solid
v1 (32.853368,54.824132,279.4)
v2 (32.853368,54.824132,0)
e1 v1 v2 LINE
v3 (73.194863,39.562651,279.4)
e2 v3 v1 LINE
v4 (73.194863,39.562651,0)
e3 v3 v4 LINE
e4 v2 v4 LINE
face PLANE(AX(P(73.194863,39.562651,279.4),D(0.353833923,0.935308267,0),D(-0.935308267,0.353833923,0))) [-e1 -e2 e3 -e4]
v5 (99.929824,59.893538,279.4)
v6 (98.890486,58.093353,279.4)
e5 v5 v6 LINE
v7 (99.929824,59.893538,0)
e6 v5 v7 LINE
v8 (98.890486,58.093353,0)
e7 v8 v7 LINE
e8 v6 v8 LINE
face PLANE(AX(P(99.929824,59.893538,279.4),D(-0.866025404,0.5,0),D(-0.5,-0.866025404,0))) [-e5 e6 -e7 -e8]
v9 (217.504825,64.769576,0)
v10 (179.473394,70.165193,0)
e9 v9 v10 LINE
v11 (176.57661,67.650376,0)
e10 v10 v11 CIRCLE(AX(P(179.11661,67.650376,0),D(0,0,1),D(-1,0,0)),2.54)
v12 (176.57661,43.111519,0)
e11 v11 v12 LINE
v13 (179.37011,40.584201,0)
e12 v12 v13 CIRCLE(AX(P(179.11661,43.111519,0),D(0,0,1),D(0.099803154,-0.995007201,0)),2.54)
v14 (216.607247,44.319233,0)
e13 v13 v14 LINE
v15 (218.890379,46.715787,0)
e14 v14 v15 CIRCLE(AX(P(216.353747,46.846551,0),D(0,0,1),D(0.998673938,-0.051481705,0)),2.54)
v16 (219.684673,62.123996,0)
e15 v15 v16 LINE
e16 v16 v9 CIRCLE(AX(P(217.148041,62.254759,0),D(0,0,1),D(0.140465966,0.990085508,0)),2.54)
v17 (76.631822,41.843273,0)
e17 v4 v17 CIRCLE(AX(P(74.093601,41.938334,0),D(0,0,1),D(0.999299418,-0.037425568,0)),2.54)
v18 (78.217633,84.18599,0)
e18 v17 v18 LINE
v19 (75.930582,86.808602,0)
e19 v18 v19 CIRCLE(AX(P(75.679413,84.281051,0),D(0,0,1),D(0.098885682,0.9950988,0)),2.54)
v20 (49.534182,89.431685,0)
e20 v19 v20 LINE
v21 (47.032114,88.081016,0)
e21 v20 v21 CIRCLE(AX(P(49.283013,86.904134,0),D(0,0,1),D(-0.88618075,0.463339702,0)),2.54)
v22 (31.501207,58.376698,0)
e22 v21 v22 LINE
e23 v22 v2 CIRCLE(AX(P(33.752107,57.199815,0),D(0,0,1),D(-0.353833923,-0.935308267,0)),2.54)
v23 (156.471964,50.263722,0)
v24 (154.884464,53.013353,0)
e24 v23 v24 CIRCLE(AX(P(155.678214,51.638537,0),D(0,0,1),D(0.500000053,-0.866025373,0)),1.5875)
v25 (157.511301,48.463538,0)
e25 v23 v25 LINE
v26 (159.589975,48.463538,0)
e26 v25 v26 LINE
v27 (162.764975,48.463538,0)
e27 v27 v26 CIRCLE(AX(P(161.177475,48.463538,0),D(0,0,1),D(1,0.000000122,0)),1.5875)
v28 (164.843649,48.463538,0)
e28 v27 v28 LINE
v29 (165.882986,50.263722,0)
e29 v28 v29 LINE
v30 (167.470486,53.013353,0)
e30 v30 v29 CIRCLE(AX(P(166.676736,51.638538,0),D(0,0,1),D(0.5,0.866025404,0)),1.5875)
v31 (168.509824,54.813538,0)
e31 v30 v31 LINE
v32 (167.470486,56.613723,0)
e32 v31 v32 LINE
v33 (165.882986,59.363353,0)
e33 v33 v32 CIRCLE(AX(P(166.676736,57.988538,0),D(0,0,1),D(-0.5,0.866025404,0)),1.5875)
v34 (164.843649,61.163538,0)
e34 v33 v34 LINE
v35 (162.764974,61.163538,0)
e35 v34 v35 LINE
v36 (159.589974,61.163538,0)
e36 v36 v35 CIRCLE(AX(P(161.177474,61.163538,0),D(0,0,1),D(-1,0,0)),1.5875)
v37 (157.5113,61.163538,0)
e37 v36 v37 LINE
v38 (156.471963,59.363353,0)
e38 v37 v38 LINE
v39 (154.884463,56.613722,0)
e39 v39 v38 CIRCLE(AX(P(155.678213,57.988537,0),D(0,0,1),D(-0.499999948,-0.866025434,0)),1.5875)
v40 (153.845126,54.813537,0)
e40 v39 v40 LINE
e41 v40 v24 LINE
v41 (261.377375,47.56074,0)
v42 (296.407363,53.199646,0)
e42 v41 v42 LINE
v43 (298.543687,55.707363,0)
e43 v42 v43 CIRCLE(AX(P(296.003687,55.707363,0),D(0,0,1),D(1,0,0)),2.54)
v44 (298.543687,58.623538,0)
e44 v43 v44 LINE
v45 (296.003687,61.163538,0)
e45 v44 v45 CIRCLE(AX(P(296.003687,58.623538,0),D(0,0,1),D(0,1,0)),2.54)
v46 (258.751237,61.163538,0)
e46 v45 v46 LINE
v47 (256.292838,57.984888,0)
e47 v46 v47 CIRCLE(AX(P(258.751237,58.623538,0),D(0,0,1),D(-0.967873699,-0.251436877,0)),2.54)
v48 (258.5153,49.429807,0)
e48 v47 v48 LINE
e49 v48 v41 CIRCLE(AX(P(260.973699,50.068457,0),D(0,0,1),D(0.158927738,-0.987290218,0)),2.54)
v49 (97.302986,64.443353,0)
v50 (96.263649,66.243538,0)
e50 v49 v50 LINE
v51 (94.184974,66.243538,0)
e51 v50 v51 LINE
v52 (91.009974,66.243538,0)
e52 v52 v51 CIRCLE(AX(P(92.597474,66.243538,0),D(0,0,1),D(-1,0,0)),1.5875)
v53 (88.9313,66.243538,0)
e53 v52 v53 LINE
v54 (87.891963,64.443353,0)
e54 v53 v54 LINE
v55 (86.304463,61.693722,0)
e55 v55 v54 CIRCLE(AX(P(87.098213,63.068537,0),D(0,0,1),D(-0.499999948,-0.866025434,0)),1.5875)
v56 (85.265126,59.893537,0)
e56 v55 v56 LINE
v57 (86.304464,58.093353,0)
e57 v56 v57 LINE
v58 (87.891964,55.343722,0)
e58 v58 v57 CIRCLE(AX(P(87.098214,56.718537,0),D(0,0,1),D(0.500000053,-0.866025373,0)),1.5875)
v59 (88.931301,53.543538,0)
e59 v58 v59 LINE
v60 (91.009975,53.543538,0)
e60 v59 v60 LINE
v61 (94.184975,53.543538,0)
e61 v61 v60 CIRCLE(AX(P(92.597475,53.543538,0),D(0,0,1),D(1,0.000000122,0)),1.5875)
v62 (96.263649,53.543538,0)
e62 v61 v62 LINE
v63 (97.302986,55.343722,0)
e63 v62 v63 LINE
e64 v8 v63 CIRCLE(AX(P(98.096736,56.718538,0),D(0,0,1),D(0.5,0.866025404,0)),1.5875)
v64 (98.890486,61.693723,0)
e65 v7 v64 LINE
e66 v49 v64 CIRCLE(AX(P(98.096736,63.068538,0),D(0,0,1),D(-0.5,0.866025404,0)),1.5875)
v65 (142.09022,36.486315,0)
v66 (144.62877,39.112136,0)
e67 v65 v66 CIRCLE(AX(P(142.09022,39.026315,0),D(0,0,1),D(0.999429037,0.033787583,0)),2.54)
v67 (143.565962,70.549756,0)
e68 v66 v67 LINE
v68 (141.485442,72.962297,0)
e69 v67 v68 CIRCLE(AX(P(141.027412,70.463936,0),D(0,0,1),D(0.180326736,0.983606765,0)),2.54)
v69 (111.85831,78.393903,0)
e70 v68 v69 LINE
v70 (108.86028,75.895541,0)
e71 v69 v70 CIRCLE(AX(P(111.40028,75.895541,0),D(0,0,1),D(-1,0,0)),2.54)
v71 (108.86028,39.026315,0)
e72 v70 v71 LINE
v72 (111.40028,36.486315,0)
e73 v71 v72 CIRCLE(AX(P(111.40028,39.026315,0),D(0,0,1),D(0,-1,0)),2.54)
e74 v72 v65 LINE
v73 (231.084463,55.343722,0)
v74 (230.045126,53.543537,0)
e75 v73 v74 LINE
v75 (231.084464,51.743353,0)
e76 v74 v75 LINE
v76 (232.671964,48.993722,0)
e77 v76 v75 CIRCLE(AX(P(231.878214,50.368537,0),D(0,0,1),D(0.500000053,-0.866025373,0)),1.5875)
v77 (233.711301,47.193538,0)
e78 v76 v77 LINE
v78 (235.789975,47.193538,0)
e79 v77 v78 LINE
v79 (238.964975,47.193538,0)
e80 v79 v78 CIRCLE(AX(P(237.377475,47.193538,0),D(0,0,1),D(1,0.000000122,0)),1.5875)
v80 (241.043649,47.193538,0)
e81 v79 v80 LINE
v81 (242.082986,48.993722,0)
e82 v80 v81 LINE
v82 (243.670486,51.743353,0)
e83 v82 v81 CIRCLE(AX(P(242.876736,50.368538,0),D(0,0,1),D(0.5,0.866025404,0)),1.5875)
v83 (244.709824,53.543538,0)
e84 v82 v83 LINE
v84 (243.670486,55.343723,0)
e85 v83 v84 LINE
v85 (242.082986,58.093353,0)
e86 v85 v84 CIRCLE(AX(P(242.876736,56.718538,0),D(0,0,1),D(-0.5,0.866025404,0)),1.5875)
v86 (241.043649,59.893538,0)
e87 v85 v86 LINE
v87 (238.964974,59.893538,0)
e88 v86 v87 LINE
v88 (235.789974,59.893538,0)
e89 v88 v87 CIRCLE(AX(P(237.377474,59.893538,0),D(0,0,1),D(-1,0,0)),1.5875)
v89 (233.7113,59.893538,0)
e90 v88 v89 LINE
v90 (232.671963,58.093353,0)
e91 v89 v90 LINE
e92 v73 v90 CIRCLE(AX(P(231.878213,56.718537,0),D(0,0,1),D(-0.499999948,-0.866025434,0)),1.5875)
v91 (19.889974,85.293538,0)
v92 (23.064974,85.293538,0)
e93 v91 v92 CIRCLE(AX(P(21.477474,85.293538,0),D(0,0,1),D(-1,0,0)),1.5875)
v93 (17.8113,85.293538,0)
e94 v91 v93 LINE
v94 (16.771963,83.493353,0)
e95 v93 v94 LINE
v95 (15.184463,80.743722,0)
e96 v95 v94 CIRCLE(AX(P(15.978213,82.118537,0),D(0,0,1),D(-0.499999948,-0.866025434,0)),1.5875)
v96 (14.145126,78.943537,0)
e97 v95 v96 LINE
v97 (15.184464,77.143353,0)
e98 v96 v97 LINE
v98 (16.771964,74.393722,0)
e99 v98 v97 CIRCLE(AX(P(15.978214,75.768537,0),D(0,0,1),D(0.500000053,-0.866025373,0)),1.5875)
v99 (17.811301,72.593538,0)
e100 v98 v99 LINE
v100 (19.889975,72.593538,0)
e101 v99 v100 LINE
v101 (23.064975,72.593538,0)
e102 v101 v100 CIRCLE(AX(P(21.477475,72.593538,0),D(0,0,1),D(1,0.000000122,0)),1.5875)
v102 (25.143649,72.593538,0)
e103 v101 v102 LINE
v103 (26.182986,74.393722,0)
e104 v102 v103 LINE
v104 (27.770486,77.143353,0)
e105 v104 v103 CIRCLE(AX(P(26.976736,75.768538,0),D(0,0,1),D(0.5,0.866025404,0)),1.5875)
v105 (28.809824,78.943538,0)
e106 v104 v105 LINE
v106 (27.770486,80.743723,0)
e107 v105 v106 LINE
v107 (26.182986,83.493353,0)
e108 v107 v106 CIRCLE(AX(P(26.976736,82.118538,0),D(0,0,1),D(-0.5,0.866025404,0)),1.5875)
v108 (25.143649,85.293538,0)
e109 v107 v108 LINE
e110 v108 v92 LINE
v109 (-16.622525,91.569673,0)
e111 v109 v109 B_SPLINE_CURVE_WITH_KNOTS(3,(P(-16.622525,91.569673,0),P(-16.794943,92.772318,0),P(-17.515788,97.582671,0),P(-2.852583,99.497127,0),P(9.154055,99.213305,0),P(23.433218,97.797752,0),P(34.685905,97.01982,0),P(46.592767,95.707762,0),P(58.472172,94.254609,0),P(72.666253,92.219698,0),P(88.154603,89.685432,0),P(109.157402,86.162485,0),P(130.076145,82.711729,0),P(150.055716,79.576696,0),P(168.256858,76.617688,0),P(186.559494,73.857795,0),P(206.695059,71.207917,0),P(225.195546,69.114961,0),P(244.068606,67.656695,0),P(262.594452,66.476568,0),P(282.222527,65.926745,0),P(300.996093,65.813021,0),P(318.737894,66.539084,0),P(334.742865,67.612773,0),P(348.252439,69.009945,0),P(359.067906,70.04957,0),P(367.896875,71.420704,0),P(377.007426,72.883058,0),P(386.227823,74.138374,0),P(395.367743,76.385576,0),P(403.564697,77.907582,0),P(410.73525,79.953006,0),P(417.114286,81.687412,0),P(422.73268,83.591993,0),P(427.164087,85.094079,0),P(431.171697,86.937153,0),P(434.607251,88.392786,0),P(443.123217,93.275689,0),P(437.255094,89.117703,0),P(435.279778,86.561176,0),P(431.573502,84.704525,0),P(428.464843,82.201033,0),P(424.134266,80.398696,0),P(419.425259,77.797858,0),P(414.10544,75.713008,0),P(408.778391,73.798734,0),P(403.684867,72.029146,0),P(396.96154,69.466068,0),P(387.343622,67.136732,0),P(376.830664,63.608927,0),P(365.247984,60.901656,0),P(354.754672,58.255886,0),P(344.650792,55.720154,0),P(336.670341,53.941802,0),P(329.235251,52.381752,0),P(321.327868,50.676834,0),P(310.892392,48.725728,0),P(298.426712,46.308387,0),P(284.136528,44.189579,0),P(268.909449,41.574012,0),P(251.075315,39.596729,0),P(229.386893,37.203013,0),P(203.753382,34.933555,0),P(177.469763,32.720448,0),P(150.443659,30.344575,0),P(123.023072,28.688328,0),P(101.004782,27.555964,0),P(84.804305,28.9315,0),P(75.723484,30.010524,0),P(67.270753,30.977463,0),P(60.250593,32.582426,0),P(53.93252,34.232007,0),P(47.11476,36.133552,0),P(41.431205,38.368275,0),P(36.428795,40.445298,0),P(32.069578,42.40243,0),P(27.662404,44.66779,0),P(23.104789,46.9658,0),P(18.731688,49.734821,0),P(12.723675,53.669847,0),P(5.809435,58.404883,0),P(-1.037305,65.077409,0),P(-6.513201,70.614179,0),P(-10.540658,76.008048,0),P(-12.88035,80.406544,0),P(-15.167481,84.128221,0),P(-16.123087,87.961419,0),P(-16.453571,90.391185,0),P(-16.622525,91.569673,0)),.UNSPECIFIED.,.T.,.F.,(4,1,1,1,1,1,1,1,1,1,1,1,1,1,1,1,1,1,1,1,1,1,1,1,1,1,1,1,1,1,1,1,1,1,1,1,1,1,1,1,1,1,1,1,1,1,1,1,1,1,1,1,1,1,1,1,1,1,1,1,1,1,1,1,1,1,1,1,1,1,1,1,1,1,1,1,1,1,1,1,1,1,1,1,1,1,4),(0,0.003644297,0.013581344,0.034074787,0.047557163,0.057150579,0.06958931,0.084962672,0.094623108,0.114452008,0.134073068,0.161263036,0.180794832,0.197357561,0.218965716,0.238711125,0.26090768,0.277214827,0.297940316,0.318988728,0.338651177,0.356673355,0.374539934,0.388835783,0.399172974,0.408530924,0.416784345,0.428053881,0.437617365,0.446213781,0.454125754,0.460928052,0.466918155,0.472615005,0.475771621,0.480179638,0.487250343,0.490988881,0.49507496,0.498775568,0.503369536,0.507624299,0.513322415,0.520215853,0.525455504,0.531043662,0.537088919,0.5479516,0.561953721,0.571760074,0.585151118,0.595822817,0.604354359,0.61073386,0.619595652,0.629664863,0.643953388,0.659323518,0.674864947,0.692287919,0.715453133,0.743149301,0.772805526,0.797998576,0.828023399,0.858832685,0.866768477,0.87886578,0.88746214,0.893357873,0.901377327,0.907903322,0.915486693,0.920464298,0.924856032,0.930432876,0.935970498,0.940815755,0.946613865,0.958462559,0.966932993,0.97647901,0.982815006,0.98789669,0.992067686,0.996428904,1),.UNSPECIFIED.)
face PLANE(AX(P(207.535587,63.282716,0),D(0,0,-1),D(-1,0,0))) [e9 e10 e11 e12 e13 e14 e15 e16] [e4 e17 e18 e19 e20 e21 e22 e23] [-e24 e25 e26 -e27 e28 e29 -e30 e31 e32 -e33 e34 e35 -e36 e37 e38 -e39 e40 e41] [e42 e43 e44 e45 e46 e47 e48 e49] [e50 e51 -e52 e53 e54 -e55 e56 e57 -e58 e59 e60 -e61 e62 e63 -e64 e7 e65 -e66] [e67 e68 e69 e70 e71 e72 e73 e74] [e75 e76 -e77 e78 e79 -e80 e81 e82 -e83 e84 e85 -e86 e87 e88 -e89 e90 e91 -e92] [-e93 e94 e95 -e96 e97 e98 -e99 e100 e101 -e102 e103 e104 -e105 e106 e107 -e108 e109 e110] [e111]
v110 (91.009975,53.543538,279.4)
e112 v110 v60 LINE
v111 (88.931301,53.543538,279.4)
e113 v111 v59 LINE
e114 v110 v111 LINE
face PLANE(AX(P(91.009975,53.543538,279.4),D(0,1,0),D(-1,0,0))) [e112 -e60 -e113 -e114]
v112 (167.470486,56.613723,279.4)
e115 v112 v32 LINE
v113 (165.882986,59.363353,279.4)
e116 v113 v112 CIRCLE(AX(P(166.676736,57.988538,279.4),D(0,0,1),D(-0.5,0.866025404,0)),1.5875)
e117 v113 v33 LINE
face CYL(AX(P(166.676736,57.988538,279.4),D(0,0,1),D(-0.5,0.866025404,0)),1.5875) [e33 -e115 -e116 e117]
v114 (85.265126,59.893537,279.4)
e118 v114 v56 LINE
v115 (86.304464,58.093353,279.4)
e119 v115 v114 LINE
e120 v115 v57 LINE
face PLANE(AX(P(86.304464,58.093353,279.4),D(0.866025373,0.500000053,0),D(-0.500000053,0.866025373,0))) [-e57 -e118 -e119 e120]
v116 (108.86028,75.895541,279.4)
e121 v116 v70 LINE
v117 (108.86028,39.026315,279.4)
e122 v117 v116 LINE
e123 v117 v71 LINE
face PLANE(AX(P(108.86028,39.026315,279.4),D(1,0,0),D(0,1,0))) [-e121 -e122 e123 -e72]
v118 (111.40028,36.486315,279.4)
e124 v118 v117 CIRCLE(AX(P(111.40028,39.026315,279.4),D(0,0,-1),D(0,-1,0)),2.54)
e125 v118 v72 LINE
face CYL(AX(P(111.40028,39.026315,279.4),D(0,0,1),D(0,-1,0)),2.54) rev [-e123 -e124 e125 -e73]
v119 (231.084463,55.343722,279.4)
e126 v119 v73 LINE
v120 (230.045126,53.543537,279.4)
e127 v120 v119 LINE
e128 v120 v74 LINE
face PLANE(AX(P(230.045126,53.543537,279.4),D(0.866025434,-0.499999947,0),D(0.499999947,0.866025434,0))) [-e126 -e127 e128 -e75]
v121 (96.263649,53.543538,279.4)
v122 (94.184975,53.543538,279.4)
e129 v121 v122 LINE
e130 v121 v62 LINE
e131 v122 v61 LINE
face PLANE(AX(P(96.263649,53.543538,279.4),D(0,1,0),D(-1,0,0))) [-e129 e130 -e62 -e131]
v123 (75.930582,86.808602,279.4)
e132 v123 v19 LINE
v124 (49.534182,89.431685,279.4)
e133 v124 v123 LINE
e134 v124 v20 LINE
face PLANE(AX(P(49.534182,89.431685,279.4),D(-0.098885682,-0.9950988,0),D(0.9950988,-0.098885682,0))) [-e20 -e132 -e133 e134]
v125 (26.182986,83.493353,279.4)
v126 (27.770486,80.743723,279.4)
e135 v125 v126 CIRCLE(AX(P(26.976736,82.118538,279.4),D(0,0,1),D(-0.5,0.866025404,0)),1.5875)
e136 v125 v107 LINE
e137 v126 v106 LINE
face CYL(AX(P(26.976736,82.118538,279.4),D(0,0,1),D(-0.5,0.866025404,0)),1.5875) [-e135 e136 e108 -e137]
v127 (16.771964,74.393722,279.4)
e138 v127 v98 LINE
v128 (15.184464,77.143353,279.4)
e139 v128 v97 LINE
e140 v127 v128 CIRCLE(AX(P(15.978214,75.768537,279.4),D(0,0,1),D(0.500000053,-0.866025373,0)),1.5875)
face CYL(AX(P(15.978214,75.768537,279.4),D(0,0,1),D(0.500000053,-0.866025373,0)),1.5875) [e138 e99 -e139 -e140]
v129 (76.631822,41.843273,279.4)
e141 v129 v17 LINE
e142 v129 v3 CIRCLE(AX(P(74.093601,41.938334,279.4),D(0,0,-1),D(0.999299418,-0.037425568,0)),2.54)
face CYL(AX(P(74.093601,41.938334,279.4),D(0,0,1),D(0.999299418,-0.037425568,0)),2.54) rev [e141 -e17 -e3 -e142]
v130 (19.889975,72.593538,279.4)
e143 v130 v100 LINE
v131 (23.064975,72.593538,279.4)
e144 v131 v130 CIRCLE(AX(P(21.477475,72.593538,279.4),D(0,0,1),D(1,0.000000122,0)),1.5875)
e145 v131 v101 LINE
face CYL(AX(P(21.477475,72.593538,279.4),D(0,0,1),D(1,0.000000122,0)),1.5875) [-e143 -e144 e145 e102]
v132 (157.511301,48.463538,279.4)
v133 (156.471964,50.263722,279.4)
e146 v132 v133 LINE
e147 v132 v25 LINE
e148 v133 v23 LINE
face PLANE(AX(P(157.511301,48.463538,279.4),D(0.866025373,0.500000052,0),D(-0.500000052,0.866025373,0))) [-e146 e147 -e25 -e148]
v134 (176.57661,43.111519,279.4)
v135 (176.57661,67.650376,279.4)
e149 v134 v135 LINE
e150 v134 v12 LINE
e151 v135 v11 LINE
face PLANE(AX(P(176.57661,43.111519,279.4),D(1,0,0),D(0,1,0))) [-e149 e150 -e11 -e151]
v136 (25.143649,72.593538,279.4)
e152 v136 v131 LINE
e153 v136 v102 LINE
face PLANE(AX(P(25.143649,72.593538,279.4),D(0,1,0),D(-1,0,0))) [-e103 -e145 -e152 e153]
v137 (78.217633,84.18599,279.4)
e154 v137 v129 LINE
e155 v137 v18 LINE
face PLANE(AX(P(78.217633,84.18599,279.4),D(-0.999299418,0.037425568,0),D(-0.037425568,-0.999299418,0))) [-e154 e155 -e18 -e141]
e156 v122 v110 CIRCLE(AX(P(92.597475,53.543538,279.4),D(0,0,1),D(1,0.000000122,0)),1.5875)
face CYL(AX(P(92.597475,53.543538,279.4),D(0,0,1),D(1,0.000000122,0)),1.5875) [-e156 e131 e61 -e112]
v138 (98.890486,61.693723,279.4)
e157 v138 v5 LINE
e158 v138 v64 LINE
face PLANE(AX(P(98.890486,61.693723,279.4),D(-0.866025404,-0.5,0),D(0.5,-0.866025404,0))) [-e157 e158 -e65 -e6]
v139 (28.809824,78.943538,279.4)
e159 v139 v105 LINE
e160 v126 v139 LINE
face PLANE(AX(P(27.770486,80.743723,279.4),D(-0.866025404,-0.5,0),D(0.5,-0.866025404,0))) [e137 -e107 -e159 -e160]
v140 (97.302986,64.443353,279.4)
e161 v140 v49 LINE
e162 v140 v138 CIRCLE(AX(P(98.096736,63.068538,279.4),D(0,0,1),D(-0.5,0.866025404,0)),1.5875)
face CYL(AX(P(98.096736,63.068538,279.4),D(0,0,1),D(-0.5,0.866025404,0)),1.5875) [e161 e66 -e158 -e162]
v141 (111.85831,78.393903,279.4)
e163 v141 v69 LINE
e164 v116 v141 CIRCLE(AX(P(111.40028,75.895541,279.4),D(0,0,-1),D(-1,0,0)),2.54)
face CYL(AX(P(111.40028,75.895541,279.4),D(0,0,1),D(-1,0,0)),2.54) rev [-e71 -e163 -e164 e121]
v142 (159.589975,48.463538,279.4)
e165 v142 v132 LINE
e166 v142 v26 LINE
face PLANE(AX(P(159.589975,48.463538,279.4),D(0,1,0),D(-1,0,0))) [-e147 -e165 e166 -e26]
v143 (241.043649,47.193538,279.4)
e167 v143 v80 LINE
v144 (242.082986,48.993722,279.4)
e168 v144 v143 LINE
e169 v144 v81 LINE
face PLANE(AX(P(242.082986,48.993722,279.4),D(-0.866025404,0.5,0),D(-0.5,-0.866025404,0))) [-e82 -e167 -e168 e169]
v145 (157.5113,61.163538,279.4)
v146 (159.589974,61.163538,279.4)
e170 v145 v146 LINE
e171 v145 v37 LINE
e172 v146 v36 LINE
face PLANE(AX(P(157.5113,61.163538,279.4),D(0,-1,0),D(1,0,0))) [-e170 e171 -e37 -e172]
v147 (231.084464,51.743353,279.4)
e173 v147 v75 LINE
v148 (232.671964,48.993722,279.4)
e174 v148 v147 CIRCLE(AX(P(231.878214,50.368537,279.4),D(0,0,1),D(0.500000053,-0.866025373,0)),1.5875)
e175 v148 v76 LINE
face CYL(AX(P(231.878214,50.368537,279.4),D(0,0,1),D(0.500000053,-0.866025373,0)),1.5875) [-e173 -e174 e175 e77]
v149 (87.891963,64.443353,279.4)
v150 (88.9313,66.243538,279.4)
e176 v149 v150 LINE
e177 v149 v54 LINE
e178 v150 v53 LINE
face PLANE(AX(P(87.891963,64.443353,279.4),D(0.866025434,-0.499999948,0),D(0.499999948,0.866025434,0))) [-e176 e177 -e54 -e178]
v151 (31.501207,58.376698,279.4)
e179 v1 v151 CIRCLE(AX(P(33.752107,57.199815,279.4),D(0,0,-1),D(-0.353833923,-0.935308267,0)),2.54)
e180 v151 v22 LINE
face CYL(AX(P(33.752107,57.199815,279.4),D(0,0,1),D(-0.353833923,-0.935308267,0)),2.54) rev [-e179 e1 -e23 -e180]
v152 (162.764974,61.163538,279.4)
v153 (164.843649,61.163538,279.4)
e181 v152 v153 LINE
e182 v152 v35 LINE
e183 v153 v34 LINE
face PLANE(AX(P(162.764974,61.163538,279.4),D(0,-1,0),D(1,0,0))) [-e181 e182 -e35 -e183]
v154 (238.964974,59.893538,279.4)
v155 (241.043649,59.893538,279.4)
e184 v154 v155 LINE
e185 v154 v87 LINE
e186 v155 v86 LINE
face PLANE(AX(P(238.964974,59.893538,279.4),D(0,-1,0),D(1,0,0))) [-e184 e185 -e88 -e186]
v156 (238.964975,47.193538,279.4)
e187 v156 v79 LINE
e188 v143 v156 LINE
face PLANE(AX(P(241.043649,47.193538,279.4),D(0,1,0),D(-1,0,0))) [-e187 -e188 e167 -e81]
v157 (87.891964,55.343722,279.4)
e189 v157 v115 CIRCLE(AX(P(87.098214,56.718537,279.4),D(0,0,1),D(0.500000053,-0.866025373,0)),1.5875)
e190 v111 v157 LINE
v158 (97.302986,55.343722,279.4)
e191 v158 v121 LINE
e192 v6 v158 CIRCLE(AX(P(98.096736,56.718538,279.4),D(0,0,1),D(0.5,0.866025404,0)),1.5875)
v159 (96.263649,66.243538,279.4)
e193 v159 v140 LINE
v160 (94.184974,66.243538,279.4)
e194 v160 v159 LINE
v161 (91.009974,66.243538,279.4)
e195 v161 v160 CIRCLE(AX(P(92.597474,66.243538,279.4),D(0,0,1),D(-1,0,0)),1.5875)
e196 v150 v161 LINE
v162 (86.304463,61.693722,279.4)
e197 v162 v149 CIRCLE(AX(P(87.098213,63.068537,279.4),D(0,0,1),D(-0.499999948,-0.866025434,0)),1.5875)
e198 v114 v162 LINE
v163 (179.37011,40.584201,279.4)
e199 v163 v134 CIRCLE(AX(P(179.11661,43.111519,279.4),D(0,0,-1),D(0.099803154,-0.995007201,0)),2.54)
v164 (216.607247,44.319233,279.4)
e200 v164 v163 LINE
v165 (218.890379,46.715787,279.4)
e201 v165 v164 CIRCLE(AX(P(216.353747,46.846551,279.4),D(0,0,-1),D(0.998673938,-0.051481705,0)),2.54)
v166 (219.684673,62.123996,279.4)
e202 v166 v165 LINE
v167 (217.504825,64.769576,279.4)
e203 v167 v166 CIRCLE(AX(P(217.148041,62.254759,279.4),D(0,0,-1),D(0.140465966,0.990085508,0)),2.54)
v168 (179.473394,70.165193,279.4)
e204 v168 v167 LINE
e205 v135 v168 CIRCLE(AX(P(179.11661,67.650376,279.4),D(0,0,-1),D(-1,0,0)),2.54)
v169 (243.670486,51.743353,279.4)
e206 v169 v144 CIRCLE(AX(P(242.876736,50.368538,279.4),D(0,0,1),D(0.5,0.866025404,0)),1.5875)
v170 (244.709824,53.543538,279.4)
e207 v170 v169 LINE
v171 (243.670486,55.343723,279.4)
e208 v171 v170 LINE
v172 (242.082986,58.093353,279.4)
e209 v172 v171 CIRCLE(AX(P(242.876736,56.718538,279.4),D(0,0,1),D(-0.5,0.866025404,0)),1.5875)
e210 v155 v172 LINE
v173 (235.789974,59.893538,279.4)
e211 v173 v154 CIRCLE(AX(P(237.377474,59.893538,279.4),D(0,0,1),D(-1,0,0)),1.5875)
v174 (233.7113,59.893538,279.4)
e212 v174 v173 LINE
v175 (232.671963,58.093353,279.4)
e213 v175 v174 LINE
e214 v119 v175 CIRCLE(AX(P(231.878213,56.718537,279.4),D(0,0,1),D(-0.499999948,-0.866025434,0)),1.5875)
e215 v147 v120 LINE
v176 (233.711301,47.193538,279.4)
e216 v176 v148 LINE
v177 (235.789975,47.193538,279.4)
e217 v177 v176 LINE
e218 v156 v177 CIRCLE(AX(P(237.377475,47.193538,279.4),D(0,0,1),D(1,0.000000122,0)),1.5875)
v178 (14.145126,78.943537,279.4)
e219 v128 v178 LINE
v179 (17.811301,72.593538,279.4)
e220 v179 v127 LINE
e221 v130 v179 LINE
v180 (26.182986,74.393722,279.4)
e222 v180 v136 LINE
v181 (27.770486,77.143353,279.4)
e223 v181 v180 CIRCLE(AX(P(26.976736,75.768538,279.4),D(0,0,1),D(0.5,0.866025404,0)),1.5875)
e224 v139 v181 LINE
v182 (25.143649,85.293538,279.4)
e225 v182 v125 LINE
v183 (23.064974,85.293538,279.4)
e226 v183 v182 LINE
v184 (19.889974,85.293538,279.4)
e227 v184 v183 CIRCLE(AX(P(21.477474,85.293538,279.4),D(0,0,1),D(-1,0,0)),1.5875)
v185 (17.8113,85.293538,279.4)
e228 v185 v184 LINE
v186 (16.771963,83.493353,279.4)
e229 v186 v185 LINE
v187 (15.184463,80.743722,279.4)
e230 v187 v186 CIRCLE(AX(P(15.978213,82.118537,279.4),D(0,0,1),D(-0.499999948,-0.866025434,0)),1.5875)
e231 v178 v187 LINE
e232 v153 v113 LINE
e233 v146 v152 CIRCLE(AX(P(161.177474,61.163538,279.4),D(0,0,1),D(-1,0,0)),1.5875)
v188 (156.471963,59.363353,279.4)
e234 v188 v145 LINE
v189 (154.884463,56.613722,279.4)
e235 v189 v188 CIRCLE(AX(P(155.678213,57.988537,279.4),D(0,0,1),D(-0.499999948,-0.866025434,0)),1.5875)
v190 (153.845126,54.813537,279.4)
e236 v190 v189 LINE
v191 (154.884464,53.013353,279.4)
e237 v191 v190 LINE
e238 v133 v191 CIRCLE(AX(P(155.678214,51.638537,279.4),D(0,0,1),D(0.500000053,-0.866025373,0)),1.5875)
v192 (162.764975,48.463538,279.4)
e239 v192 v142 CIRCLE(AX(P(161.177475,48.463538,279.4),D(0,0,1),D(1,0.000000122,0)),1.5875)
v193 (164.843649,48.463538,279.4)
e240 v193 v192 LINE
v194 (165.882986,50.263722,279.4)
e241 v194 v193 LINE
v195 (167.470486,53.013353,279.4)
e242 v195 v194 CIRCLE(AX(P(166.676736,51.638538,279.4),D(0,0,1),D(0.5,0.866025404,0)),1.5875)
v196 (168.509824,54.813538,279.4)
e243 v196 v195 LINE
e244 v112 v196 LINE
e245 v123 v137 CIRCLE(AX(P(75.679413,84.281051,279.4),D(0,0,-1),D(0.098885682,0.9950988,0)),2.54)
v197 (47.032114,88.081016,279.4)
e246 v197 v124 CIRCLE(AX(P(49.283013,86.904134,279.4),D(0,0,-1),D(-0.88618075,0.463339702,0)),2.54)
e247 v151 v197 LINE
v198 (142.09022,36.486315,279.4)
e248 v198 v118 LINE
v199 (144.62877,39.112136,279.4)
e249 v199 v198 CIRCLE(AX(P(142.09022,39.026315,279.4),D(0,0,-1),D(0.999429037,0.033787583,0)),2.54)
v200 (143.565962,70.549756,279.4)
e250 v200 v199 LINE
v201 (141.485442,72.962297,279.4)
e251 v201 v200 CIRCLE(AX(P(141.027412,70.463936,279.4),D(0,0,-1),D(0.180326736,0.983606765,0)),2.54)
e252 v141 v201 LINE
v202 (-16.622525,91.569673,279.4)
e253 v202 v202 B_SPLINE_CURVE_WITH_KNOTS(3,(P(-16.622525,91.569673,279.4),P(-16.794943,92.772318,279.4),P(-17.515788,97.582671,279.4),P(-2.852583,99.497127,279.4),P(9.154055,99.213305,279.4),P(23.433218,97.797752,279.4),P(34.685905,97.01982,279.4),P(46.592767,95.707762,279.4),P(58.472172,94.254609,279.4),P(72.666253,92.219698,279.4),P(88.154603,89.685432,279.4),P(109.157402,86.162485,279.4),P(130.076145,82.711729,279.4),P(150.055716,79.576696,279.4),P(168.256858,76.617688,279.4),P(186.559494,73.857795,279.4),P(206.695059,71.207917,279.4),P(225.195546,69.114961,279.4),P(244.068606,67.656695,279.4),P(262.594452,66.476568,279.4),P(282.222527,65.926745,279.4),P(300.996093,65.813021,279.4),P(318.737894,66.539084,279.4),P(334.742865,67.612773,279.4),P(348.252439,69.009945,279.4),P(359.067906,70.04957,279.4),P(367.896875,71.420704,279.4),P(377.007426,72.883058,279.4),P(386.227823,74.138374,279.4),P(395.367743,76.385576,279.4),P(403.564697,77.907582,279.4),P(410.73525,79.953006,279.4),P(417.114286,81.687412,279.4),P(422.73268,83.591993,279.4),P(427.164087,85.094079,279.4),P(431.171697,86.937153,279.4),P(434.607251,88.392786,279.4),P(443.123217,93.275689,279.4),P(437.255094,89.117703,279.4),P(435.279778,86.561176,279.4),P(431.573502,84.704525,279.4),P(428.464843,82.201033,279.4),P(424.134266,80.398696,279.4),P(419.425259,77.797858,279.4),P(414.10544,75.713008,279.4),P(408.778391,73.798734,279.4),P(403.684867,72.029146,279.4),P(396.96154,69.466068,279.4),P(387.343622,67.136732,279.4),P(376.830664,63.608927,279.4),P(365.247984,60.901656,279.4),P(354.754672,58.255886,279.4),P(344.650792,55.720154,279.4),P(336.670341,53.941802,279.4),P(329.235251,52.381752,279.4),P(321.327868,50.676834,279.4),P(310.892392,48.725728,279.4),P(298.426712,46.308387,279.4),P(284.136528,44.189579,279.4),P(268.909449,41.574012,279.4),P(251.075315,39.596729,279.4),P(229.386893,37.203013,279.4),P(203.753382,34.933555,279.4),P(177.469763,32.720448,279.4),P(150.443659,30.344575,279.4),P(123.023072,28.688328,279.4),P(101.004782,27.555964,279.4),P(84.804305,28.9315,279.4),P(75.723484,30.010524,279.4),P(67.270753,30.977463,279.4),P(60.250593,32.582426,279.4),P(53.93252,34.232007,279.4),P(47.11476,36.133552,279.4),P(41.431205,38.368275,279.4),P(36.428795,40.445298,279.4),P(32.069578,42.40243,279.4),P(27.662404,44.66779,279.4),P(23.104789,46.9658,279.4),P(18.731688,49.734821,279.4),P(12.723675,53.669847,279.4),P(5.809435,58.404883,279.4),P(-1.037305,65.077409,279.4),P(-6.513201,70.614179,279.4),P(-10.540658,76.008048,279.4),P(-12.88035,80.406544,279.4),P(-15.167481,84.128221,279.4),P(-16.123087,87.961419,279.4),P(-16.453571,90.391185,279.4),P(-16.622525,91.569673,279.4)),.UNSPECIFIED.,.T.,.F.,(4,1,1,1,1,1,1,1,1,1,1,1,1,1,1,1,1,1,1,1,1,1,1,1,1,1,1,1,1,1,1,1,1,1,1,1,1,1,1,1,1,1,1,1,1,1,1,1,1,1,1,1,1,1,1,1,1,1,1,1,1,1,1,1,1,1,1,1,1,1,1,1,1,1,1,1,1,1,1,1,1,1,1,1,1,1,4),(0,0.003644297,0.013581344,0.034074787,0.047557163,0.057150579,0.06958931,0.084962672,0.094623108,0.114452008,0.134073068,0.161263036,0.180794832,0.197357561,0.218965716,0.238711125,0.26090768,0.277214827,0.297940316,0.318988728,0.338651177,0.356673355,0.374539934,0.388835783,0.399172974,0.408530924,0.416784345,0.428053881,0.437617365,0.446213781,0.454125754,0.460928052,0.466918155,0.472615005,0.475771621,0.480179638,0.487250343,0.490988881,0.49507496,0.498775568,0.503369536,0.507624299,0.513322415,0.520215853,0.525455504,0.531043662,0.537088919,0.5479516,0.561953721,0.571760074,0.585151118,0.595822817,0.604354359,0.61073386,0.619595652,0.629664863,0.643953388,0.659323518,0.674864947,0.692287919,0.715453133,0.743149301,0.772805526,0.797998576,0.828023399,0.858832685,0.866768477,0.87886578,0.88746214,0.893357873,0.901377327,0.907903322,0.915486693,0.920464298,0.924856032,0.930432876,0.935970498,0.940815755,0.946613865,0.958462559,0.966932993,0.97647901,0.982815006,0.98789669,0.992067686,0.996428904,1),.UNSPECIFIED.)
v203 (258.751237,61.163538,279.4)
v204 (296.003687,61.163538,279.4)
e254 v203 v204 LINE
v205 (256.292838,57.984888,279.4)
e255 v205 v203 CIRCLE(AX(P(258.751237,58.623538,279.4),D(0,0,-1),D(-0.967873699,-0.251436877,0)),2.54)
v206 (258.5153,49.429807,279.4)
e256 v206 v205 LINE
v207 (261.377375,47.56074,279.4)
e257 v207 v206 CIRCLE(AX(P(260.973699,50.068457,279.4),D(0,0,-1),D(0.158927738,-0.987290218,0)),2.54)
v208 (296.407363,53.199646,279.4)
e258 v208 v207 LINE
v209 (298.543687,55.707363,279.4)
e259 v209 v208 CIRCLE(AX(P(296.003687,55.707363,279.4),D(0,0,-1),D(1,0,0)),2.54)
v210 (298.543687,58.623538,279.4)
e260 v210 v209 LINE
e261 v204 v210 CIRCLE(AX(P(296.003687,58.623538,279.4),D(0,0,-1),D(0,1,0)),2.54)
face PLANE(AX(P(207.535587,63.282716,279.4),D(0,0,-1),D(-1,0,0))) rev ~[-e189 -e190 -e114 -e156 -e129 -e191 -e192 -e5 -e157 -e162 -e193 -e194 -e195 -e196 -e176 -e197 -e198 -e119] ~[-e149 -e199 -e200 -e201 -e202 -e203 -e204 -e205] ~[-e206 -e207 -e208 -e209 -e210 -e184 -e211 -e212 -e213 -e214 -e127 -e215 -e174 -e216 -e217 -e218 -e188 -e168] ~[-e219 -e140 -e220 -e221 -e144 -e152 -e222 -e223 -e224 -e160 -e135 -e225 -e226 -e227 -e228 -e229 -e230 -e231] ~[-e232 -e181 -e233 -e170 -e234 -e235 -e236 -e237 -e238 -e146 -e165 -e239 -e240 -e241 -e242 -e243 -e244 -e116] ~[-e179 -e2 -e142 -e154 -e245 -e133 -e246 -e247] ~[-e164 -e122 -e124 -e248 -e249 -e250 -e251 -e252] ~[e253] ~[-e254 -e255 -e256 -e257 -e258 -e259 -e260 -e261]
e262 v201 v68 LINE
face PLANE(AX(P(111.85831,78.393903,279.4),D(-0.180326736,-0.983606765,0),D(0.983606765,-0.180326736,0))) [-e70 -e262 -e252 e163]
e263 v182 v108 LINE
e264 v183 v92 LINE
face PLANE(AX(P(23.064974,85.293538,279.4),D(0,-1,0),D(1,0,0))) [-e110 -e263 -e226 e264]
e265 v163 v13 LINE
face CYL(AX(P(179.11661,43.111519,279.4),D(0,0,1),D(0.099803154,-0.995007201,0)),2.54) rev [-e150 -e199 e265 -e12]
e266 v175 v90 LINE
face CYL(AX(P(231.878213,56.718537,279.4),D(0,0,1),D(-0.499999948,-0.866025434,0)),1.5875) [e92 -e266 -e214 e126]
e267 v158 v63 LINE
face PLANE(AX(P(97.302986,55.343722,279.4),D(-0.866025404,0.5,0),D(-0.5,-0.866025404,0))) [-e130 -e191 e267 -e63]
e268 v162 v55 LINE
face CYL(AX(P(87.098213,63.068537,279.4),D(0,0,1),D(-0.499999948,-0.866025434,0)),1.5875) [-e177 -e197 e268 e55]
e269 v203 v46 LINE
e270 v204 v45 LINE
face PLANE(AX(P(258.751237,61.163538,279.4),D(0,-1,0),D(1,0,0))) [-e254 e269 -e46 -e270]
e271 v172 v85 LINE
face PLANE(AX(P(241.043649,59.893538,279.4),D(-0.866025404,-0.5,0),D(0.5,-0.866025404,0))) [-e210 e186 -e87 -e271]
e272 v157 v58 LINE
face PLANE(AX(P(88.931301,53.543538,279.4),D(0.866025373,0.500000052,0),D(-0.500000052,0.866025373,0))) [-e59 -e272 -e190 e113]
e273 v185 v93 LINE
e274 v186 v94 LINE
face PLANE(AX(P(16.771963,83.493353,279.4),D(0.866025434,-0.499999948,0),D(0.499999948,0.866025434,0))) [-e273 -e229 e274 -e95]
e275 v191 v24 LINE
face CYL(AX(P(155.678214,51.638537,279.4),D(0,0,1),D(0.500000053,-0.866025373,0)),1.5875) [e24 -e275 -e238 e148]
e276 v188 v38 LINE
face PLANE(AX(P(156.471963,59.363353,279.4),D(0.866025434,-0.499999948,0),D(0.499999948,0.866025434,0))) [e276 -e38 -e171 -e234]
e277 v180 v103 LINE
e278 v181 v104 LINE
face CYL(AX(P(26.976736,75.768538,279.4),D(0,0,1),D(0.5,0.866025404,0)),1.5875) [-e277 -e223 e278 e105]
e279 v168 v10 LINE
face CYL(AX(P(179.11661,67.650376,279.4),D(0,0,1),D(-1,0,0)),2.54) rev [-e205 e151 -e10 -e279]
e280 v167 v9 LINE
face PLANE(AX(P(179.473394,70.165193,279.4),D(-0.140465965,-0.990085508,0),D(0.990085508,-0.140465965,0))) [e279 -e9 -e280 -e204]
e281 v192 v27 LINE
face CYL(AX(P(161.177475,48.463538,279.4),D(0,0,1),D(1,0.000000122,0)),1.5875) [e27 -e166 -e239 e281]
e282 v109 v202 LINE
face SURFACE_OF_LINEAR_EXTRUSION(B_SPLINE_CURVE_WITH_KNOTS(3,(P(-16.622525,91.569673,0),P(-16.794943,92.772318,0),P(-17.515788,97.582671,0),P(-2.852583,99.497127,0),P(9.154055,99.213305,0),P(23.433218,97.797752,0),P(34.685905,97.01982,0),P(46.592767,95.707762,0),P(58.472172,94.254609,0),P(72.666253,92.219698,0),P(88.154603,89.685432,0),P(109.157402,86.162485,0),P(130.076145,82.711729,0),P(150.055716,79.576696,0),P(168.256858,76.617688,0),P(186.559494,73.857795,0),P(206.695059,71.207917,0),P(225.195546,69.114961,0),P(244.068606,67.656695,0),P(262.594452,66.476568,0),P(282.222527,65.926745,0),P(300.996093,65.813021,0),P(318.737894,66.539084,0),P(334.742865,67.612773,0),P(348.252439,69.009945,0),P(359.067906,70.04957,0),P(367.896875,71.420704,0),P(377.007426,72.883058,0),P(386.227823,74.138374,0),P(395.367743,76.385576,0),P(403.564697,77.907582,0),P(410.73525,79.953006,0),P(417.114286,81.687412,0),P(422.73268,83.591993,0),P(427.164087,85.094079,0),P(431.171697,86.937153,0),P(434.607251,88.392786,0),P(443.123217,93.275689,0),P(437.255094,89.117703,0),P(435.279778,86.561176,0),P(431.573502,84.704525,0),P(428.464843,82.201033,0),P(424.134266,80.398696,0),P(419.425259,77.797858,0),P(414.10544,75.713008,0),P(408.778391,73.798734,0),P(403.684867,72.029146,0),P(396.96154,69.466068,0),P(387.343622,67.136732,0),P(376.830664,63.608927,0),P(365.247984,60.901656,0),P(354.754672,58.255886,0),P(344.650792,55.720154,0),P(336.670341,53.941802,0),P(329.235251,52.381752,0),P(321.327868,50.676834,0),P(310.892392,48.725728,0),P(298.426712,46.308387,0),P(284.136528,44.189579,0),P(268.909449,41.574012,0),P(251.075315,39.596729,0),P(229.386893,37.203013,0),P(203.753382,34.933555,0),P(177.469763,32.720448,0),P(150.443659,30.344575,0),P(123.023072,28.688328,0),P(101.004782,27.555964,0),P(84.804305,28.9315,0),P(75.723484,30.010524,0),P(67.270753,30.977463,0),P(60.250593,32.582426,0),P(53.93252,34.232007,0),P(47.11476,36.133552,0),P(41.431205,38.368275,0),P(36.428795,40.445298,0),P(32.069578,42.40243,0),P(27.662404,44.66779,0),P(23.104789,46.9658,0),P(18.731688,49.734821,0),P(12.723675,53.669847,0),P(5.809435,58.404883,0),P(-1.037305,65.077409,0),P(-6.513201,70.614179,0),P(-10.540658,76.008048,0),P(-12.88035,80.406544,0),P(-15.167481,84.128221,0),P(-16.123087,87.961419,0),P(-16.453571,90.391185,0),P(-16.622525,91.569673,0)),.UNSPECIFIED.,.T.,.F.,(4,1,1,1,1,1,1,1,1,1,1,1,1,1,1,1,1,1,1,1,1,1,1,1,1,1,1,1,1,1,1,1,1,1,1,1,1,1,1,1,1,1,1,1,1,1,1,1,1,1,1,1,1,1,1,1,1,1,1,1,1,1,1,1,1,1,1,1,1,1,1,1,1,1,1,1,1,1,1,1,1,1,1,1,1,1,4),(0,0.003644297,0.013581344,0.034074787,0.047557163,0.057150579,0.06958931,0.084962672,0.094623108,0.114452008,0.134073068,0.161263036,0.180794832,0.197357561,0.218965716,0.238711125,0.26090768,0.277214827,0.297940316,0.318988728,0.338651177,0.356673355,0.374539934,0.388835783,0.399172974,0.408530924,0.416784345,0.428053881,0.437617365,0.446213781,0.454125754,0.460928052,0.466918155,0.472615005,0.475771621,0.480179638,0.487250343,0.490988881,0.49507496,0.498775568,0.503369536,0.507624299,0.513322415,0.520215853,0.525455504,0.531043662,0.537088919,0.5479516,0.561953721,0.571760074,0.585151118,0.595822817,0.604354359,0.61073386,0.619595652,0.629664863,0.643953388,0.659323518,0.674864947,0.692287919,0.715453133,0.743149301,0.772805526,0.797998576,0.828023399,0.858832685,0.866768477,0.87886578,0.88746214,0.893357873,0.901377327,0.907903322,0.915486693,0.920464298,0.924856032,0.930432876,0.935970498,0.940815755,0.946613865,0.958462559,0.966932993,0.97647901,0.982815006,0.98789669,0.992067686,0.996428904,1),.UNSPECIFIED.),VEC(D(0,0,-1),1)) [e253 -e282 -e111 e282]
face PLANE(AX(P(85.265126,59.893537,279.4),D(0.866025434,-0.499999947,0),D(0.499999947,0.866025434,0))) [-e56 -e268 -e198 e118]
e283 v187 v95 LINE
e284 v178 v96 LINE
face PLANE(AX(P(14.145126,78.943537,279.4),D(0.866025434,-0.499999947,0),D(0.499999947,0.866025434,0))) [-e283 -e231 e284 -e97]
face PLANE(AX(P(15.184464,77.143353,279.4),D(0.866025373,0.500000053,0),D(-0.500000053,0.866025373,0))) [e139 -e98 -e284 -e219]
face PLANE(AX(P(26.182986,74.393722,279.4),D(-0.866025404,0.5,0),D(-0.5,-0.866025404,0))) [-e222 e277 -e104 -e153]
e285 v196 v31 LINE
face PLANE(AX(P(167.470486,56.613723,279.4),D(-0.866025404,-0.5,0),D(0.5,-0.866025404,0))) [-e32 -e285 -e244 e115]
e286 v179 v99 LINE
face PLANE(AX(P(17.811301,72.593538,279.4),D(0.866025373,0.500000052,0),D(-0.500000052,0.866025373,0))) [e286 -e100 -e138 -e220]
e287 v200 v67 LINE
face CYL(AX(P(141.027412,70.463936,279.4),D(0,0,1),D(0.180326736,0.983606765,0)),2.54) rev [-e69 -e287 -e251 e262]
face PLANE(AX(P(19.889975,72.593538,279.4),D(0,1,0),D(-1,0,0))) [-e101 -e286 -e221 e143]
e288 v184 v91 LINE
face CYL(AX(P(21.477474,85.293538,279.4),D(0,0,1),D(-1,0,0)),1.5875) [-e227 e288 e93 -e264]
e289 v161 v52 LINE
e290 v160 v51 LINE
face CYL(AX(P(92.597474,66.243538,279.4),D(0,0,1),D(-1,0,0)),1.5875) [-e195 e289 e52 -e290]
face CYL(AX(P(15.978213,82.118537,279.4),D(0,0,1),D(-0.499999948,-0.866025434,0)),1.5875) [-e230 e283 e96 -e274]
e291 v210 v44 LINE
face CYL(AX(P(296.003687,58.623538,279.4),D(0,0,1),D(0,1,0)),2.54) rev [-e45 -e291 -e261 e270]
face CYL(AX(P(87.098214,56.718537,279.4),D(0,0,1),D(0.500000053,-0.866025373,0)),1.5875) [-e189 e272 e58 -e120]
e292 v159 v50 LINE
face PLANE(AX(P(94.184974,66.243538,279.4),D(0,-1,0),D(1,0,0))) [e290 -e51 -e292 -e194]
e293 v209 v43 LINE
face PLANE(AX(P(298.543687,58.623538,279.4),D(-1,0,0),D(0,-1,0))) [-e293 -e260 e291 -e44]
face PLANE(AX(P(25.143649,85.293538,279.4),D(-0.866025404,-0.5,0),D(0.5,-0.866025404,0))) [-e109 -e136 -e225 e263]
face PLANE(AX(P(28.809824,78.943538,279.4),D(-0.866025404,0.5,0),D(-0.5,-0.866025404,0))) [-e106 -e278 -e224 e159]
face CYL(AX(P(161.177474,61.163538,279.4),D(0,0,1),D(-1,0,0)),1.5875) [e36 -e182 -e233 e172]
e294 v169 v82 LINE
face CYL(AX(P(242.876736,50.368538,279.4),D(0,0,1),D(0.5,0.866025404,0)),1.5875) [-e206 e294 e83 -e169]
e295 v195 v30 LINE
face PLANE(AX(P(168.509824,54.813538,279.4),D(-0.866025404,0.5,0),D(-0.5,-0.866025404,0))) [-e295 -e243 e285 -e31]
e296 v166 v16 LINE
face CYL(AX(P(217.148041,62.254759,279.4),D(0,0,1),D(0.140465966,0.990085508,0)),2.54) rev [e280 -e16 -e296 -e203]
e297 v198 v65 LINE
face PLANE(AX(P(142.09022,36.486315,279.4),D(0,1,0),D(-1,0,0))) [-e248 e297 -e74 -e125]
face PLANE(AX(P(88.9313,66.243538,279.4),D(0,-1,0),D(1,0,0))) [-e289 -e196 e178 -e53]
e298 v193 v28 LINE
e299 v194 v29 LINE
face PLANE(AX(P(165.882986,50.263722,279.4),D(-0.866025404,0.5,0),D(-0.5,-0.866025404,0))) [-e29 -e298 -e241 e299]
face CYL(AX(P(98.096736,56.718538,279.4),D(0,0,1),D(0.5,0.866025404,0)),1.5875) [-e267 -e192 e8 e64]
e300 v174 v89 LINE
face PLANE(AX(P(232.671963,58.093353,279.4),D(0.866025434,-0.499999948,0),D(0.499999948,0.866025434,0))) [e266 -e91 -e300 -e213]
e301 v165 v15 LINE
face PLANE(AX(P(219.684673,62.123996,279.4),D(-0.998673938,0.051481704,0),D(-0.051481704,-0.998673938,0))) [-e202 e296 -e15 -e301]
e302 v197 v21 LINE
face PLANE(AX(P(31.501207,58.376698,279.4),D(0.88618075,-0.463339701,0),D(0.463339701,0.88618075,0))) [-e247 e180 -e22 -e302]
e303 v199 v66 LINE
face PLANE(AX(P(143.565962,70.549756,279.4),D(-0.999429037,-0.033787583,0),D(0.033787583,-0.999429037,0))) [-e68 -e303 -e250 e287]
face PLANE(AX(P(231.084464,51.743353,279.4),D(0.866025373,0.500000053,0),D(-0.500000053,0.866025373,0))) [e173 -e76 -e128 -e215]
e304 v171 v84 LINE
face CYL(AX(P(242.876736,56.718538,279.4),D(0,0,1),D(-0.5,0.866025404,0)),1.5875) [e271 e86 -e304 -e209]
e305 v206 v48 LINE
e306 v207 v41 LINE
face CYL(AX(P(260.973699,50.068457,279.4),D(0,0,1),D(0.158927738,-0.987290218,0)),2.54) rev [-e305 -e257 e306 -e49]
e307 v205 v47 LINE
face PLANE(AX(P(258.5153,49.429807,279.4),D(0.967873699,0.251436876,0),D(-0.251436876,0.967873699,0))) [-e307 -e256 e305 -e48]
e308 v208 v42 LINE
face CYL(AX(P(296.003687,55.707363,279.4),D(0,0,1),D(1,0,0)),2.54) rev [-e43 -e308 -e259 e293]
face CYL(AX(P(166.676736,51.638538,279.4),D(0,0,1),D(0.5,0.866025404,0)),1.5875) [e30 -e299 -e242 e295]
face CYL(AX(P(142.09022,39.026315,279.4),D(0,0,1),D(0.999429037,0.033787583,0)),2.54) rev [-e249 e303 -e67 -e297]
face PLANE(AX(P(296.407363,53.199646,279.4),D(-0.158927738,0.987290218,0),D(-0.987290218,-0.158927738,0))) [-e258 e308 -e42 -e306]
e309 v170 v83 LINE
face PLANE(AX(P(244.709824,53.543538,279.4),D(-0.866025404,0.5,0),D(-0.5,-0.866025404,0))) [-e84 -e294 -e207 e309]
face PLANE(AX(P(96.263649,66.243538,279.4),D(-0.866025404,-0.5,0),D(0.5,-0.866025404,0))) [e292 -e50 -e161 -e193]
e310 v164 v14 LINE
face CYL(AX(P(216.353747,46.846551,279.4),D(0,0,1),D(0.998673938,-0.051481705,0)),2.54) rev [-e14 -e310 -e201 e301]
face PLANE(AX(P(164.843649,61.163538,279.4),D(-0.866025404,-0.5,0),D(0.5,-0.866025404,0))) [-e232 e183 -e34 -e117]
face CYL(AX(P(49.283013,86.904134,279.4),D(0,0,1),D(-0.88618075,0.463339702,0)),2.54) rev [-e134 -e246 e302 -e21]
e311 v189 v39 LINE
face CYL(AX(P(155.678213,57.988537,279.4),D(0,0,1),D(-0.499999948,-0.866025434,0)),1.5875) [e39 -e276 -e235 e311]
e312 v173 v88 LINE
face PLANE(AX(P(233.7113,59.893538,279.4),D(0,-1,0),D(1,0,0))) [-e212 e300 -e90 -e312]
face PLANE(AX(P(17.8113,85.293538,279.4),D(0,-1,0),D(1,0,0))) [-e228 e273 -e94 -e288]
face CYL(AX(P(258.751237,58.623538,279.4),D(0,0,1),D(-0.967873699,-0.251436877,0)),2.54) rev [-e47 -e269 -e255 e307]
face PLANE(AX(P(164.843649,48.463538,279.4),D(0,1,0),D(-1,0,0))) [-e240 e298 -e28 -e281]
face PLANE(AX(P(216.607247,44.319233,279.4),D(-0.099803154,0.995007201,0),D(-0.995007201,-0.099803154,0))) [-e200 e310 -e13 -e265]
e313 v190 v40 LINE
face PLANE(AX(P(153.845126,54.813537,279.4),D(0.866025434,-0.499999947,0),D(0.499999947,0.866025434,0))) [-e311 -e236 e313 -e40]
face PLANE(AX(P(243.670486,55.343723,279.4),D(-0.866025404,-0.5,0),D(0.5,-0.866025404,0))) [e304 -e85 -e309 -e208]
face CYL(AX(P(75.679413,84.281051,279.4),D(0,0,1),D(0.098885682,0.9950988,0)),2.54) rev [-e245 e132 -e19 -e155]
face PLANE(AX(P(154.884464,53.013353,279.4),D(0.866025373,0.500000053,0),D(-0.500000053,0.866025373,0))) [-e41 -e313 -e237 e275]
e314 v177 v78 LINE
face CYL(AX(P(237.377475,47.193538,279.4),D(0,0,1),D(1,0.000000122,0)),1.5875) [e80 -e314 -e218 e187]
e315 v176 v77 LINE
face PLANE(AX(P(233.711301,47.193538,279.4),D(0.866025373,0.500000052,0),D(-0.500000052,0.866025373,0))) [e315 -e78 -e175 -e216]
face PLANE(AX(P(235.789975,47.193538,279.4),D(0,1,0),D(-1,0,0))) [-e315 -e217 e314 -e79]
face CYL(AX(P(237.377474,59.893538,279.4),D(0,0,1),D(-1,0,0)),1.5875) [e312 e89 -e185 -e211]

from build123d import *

# Parameters (mm, degrees)
BOSS_EXTRUDE1_DEPTH = 279.4
CUT_EXTRUDE3_DEPTH  = 381


with BuildPart() as part:
    # Sketch1 → Boss-Extrude1 (new body)
    with BuildSketch(Plane.XY):
        with BuildLine():
            add(Edge.make_bspline(
                [(-16.622525288, 91.56967272), (-16.794942994, 92.772317911), (-17.515788121, 97.582670832), (-2.852582554, 99.497127174), (9.154054709, 99.213304724), (23.433217875, 97.797752429), (34.6859051, 97.019819773), (46.592767258, 95.707761604), (58.472171701, 94.254609297), (72.666253463, 92.219697635), (88.15460255, 89.685431784), (109.15740223, 86.162485471), (130.076144789, 82.711728928), (150.055716296, 79.576696099), (168.256858053, 76.617688262), (186.559493812, 73.857794613), (206.695059336, 71.20791695), (225.195546149, 69.114961125), (244.068606399, 67.656695297), (262.594452449, 66.476567979), (282.222526995, 65.926744761), (300.99609332, 65.813021246), (318.737894065, 66.539084176), (334.742865336, 67.61277327), (348.252438633, 69.009944705), (359.067906447, 70.049570339), (367.896874578, 71.420704301), (377.007425502, 72.883057797), (386.227823421, 74.138373924), (395.367743176, 76.385575861), (403.564697097, 77.907582397), (410.735250399, 79.953005658), (417.114285798, 81.687412008), (422.732680223, 83.591992804), (427.164087313, 85.094079009), (431.171696898, 86.937153076), (434.607250511, 88.392786361), (443.123217376, 93.275688905), (437.255094337, 89.117703468), (435.279778464, 86.561175616), (431.573501891, 84.704524529), (428.464842726, 82.201032813), (424.134266462, 80.398696308), (419.425258521, 77.797857577), (414.105440345, 75.713007702), (408.77839072, 73.798734141), (403.684867312, 72.029145889), (396.961540144, 69.466067962), (387.343622202, 67.136732033), (376.830663922, 63.608926675), (365.24798357, 60.901656463), (354.754672426, 58.255886458), (344.650791699, 55.720154361), (336.670341174, 53.941801639), (329.235250959, 52.381752299), (321.327868225, 50.676833739), (310.892392252, 48.725728026), (298.426712372, 46.308387166), (284.136528131, 44.189578856), (268.909448728, 41.574011521), (251.075314715, 39.596728872), (229.386892765, 37.203012777), (203.753382466, 34.933554815), (177.46976253, 32.720447696), (150.443659112, 30.344574846), (123.02307167, 28.688327838), (101.004781565, 27.555963663), (84.804305156, 28.931500406), (75.72348416, 30.010523718), (67.270753352, 30.977463397), (60.250592801, 32.582425676), (53.932519662, 34.232006507), (47.114759922, 36.133551764), (41.43120503, 38.368275103), (36.428795002, 40.445297648), (32.069577899, 42.402430324), (27.662403595, 44.667790264), (23.104788958, 46.965799851), (18.73168781, 49.734821084), (12.723675127, 53.669846892), (5.809434759, 58.404883079), (-1.037305312, 65.077409289), (-6.513200759, 70.614178991), (-10.540658158, 76.008047875), (-12.880350205, 80.406543609), (-15.167480815, 84.128221175), (-16.123087236, 87.961419413), (-16.453570873, 90.391184614), (-16.622525288, 91.56967272)],
                knots=[0, 0, 0, 0, 0.003644297, 0.013581344, 0.034074787, 0.047557163, 0.057150579, 0.06958931, 0.084962672, 0.094623108, 0.114452008, 0.134073068, 0.161263036, 0.180794832, 0.197357561, 0.218965716, 0.238711125, 0.26090768, 0.277214827, 0.297940316, 0.318988728, 0.338651177, 0.356673355, 0.374539934, 0.388835783, 0.399172974, 0.408530924, 0.416784345, 0.428053881, 0.437617365, 0.446213781, 0.454125754, 0.460928052, 0.466918155, 0.472615005, 0.475771621, 0.480179638, 0.487250343, 0.490988881, 0.49507496, 0.498775568, 0.503369536, 0.507624299, 0.513322415, 0.520215853, 0.525455504, 0.531043662, 0.537088919, 0.5479516, 0.561953721, 0.571760074, 0.585151118, 0.595822817, 0.604354359, 0.61073386, 0.619595652, 0.629664863, 0.643953388, 0.659323518, 0.674864947, 0.692287919, 0.715453133, 0.743149301, 0.772805526, 0.797998576, 0.828023399, 0.858832685, 0.866768477, 0.87886578, 0.88746214, 0.893357873, 0.901377327, 0.907903322, 0.915486693, 0.920464298, 0.924856032, 0.930432876, 0.935970498, 0.940815755, 0.946613865, 0.958462559, 0.966932993, 0.97647901, 0.982815006, 0.98789669, 0.992067686, 0.996428904, 1, 1, 1, 1], degree=3))
        make_face()
    extrude(amount=BOSS_EXTRUDE1_DEPTH)

    # Sketch4 → Cut-Extrude3 (cut)
    with BuildSketch(Plane.XY.offset(279.4)):
        with BuildLine():
            Line((88.931300118, 66.243537573), (91.009974327, 66.243537573))
            ThreePointArc((91.009974327, 66.243537573), (92.597474327, 64.656037573), (94.184974327, 66.243537573))
            Line((94.184974327, 66.243537573), (96.263648536, 66.243537573))
            Line((96.263648536, 66.243537573), (97.302985641, 64.443352902))
            ThreePointArc((97.302985641, 64.443352902), (96.721920503, 62.274787243), (98.890486301, 61.693722626))
            Line((98.890486301, 61.693722626), (99.929823515, 59.893537766))
            Line((99.929823515, 59.893537766), (98.89048641, 58.093353094))
            ThreePointArc((98.89048641, 58.093353094), (96.721921082, 57.512287766), (97.30298641, 55.343722437))
            Line((97.30298641, 55.343722437), (96.263649306, 53.543537766))
            Line((96.263649306, 53.543537766), (94.184975096, 53.543537766))
            ThreePointArc((94.184975096, 53.543537766), (92.597475, 55.131037573), (91.009975096, 53.543537573))
            Line((91.009975096, 53.543537573), (88.931300887, 53.543537573))
            Line((88.931300887, 53.543537573), (87.891963673, 55.343722182))
            ThreePointArc((87.891963673, 55.343722182), (88.47302887, 57.512287545), (86.304463507, 58.093352743))
            Line((86.304463507, 58.093352743), (85.265126293, 59.893537351))
            Line((85.265126293, 59.893537351), (86.304463288, 61.693722086))
            ThreePointArc((86.304463288, 61.693722086), (88.473028582, 62.274787545), (87.891963122, 64.443352839))
            Line((87.891963122, 64.443352839), (88.931300118, 66.243537573))
        make_face()
        with BuildLine():
            Line((17.811300118, 85.293537573), (19.889974327, 85.293537573))
            ThreePointArc((19.889974327, 85.293537573), (21.477474327, 83.706037573), (23.064974327, 85.293537573))
            Line((23.064974327, 85.293537573), (25.143648536, 85.293537573))
            Line((25.143648536, 85.293537573), (26.182985641, 83.493352902))
            ThreePointArc((26.182985641, 83.493352902), (25.601920503, 81.324787243), (27.770486301, 80.743722626))
            Line((27.770486301, 80.743722626), (28.809823515, 78.943537766))
            Line((28.809823515, 78.943537766), (27.77048641, 77.143353094))
            ThreePointArc((27.77048641, 77.143353094), (25.601921082, 76.562287766), (26.18298641, 74.393722437))
            Line((26.18298641, 74.393722437), (25.143649306, 72.593537766))
            Line((25.143649306, 72.593537766), (23.064975096, 72.593537766))
            ThreePointArc((23.064975096, 72.593537766), (21.477475, 74.181037573), (19.889975096, 72.593537573))
            Line((19.889975096, 72.593537573), (17.811300887, 72.593537573))
            Line((17.811300887, 72.593537573), (16.771963673, 74.393722182))
            ThreePointArc((16.771963673, 74.393722182), (17.35302887, 76.562287545), (15.184463507, 77.143352743))
            Line((15.184463507, 77.143352743), (14.145126293, 78.943537351))
            Line((14.145126293, 78.943537351), (15.184463288, 80.743722086))
            ThreePointArc((15.184463288, 80.743722086), (17.353028582, 81.324787545), (16.771963122, 83.493352839))
            Line((16.771963122, 83.493352839), (17.811300118, 85.293537573))
        make_face()
        with BuildLine():
            Line((233.711300118, 59.893537573), (235.789974327, 59.893537573))
            ThreePointArc((235.789974327, 59.893537573), (237.377474327, 58.306037573), (238.964974327, 59.893537573))
            Line((238.964974327, 59.893537573), (241.043648536, 59.893537573))
            Line((241.043648536, 59.893537573), (242.082985641, 58.093352902))
            ThreePointArc((242.082985641, 58.093352902), (241.501920503, 55.924787243), (243.670486301, 55.343722626))
            Line((243.670486301, 55.343722626), (244.709823515, 53.543537766))
            Line((244.709823515, 53.543537766), (243.67048641, 51.743353094))
            ThreePointArc((243.67048641, 51.743353094), (241.501921082, 51.162287766), (242.08298641, 48.993722437))
            Line((242.08298641, 48.993722437), (241.043649306, 47.193537766))
            Line((241.043649306, 47.193537766), (238.964975096, 47.193537766))
            ThreePointArc((238.964975096, 47.193537766), (237.377475, 48.781037573), (235.789975096, 47.193537573))
            Line((235.789975096, 47.193537573), (233.711300887, 47.193537573))
            Line((233.711300887, 47.193537573), (232.671963673, 48.993722182))
            ThreePointArc((232.671963673, 48.993722182), (233.25302887, 51.162287545), (231.084463507, 51.743352743))
            Line((231.084463507, 51.743352743), (230.045126293, 53.543537351))
            Line((230.045126293, 53.543537351), (231.084463288, 55.343722086))
            ThreePointArc((231.084463288, 55.343722086), (233.253028582, 55.924787545), (232.671963122, 58.093352839))
            Line((232.671963122, 58.093352839), (233.711300118, 59.893537573))
        make_face()
        with BuildLine():
            Line((157.511300118, 61.163537573), (159.589974327, 61.163537573))
            ThreePointArc((159.589974327, 61.163537573), (161.177474327, 59.576037573), (162.764974327, 61.163537573))
            Line((162.764974327, 61.163537573), (164.843648536, 61.163537573))
            Line((164.843648536, 61.163537573), (165.882985641, 59.363352902))
            ThreePointArc((165.882985641, 59.363352902), (165.301920503, 57.194787243), (167.470486301, 56.613722626))
            Line((167.470486301, 56.613722626), (168.509823515, 54.813537766))
            Line((168.509823515, 54.813537766), (167.47048641, 53.013353094))
            ThreePointArc((167.47048641, 53.013353094), (165.301921082, 52.432287766), (165.88298641, 50.263722437))
            Line((165.88298641, 50.263722437), (164.843649306, 48.463537766))
            Line((164.843649306, 48.463537766), (162.764975096, 48.463537766))
            ThreePointArc((162.764975096, 48.463537766), (161.177475, 50.051037573), (159.589975096, 48.463537573))
            Line((159.589975096, 48.463537573), (157.511300887, 48.463537573))
            Line((157.511300887, 48.463537573), (156.471963673, 50.263722182))
            ThreePointArc((156.471963673, 50.263722182), (157.05302887, 52.432287545), (154.884463507, 53.013352743))
            Line((154.884463507, 53.013352743), (153.845126293, 54.813537351))
            Line((153.845126293, 54.813537351), (154.884463288, 56.613722086))
            ThreePointArc((154.884463288, 56.613722086), (157.053028582, 57.194787545), (156.471963122, 59.363352839))
            Line((156.471963122, 59.363352839), (157.511300118, 61.163537573))
        make_face()
        with BuildLine():
            Line((31.501207482, 58.37669779), (47.032113751, 88.081016492))
            ThreePointArc((47.032113751, 88.081016492), (48.076445172, 89.139261035), (49.534182489, 89.431684603))
            Line((49.534182489, 89.431684603), (75.93058222, 86.808602351))
            ThreePointArc((75.93058222, 86.808602351), (77.593752589, 85.950453195), (78.217633108, 84.185990458))
            Line((78.217633108, 84.185990458), (76.631821885, 41.843273018))
            ThreePointArc((76.631821885, 41.843273018), (75.497981954, 39.821894696), (73.194863199, 39.56265096))
            Line((73.194863199, 39.56265096), (32.853368422, 54.824131949))
            ThreePointArc((32.853368422, 54.824131949), (31.378241648, 56.296285615), (31.501207482, 58.37669779))
        make_face()
        with BuildLine():
            Line((111.858309541, 78.393902518), (141.485442222, 72.962296795))
            ThreePointArc((141.485442222, 72.962296795), (142.950940478, 72.12274223), (143.565962065, 70.549756072))
            Line((143.565962065, 70.549756072), (144.628770085, 39.112135773))
            ThreePointArc((144.628770085, 39.112135773), (143.916361615, 37.260866924), (142.090220332, 36.486315313))
            Line((142.090220332, 36.486315313), (111.400279631, 36.486315313))
            ThreePointArc((111.400279631, 36.486315313), (109.604228407, 37.230264089), (108.860279631, 39.026315313))
            Line((108.860279631, 39.026315313), (108.860279631, 75.895541334))
            ThreePointArc((108.860279631, 75.895541334), (109.774210132, 77.846822448), (111.858309541, 78.393902518))
        make_face()
        with BuildLine():
            Line((179.473393864, 70.165192722), (217.50482476, 64.769576264))
            ThreePointArc((217.50482476, 64.769576264), (219.108331349, 63.86995645), (219.68467301, 62.123995546))
            Line((219.68467301, 62.123995546), (218.890378913, 46.71578744))
            ThreePointArc((218.890378913, 46.71578744), (218.192789678, 45.094545708), (216.607247121, 44.319232678))
            Line((216.607247121, 44.319232678), (179.370110323, 40.58420072))
            ThreePointArc((179.370110323, 40.58420072), (177.412540188, 41.227973149), (176.576610312, 43.111519011))
            Line((176.576610312, 43.111519011), (176.576610312, 67.650375533))
            ThreePointArc((176.576610312, 67.650375533), (177.451472213, 69.568425352), (179.473393864, 70.165192722))
        make_face()
        with BuildLine():
            Line((258.751236774, 61.163537573), (296.003687002, 61.163537573))
            ThreePointArc((296.003687002, 61.163537573), (297.799738226, 60.419588797), (298.543687002, 58.623537573))
            Line((298.543687002, 58.623537573), (298.543687002, 55.707363059))
            ThreePointArc((298.543687002, 55.707363059), (297.937199117, 54.060204626), (296.407363457, 53.199645906))
            Line((296.407363457, 53.199645906), (261.377375447, 47.560739881))
            ThreePointArc((261.377375447, 47.560739881), (259.584877656, 47.941775277), (258.515299797, 49.429807368))
            Line((258.515299797, 49.429807368), (256.292837579, 57.984887907))
            ThreePointArc((256.292837579, 57.984887907), (256.742036666, 60.177472876), (258.751236774, 61.163537573))
        make_face()
    extrude(amount=-CUT_EXTRUDE3_DEPTH, mode=Mode.SUBTRACT)


solid = part.part
